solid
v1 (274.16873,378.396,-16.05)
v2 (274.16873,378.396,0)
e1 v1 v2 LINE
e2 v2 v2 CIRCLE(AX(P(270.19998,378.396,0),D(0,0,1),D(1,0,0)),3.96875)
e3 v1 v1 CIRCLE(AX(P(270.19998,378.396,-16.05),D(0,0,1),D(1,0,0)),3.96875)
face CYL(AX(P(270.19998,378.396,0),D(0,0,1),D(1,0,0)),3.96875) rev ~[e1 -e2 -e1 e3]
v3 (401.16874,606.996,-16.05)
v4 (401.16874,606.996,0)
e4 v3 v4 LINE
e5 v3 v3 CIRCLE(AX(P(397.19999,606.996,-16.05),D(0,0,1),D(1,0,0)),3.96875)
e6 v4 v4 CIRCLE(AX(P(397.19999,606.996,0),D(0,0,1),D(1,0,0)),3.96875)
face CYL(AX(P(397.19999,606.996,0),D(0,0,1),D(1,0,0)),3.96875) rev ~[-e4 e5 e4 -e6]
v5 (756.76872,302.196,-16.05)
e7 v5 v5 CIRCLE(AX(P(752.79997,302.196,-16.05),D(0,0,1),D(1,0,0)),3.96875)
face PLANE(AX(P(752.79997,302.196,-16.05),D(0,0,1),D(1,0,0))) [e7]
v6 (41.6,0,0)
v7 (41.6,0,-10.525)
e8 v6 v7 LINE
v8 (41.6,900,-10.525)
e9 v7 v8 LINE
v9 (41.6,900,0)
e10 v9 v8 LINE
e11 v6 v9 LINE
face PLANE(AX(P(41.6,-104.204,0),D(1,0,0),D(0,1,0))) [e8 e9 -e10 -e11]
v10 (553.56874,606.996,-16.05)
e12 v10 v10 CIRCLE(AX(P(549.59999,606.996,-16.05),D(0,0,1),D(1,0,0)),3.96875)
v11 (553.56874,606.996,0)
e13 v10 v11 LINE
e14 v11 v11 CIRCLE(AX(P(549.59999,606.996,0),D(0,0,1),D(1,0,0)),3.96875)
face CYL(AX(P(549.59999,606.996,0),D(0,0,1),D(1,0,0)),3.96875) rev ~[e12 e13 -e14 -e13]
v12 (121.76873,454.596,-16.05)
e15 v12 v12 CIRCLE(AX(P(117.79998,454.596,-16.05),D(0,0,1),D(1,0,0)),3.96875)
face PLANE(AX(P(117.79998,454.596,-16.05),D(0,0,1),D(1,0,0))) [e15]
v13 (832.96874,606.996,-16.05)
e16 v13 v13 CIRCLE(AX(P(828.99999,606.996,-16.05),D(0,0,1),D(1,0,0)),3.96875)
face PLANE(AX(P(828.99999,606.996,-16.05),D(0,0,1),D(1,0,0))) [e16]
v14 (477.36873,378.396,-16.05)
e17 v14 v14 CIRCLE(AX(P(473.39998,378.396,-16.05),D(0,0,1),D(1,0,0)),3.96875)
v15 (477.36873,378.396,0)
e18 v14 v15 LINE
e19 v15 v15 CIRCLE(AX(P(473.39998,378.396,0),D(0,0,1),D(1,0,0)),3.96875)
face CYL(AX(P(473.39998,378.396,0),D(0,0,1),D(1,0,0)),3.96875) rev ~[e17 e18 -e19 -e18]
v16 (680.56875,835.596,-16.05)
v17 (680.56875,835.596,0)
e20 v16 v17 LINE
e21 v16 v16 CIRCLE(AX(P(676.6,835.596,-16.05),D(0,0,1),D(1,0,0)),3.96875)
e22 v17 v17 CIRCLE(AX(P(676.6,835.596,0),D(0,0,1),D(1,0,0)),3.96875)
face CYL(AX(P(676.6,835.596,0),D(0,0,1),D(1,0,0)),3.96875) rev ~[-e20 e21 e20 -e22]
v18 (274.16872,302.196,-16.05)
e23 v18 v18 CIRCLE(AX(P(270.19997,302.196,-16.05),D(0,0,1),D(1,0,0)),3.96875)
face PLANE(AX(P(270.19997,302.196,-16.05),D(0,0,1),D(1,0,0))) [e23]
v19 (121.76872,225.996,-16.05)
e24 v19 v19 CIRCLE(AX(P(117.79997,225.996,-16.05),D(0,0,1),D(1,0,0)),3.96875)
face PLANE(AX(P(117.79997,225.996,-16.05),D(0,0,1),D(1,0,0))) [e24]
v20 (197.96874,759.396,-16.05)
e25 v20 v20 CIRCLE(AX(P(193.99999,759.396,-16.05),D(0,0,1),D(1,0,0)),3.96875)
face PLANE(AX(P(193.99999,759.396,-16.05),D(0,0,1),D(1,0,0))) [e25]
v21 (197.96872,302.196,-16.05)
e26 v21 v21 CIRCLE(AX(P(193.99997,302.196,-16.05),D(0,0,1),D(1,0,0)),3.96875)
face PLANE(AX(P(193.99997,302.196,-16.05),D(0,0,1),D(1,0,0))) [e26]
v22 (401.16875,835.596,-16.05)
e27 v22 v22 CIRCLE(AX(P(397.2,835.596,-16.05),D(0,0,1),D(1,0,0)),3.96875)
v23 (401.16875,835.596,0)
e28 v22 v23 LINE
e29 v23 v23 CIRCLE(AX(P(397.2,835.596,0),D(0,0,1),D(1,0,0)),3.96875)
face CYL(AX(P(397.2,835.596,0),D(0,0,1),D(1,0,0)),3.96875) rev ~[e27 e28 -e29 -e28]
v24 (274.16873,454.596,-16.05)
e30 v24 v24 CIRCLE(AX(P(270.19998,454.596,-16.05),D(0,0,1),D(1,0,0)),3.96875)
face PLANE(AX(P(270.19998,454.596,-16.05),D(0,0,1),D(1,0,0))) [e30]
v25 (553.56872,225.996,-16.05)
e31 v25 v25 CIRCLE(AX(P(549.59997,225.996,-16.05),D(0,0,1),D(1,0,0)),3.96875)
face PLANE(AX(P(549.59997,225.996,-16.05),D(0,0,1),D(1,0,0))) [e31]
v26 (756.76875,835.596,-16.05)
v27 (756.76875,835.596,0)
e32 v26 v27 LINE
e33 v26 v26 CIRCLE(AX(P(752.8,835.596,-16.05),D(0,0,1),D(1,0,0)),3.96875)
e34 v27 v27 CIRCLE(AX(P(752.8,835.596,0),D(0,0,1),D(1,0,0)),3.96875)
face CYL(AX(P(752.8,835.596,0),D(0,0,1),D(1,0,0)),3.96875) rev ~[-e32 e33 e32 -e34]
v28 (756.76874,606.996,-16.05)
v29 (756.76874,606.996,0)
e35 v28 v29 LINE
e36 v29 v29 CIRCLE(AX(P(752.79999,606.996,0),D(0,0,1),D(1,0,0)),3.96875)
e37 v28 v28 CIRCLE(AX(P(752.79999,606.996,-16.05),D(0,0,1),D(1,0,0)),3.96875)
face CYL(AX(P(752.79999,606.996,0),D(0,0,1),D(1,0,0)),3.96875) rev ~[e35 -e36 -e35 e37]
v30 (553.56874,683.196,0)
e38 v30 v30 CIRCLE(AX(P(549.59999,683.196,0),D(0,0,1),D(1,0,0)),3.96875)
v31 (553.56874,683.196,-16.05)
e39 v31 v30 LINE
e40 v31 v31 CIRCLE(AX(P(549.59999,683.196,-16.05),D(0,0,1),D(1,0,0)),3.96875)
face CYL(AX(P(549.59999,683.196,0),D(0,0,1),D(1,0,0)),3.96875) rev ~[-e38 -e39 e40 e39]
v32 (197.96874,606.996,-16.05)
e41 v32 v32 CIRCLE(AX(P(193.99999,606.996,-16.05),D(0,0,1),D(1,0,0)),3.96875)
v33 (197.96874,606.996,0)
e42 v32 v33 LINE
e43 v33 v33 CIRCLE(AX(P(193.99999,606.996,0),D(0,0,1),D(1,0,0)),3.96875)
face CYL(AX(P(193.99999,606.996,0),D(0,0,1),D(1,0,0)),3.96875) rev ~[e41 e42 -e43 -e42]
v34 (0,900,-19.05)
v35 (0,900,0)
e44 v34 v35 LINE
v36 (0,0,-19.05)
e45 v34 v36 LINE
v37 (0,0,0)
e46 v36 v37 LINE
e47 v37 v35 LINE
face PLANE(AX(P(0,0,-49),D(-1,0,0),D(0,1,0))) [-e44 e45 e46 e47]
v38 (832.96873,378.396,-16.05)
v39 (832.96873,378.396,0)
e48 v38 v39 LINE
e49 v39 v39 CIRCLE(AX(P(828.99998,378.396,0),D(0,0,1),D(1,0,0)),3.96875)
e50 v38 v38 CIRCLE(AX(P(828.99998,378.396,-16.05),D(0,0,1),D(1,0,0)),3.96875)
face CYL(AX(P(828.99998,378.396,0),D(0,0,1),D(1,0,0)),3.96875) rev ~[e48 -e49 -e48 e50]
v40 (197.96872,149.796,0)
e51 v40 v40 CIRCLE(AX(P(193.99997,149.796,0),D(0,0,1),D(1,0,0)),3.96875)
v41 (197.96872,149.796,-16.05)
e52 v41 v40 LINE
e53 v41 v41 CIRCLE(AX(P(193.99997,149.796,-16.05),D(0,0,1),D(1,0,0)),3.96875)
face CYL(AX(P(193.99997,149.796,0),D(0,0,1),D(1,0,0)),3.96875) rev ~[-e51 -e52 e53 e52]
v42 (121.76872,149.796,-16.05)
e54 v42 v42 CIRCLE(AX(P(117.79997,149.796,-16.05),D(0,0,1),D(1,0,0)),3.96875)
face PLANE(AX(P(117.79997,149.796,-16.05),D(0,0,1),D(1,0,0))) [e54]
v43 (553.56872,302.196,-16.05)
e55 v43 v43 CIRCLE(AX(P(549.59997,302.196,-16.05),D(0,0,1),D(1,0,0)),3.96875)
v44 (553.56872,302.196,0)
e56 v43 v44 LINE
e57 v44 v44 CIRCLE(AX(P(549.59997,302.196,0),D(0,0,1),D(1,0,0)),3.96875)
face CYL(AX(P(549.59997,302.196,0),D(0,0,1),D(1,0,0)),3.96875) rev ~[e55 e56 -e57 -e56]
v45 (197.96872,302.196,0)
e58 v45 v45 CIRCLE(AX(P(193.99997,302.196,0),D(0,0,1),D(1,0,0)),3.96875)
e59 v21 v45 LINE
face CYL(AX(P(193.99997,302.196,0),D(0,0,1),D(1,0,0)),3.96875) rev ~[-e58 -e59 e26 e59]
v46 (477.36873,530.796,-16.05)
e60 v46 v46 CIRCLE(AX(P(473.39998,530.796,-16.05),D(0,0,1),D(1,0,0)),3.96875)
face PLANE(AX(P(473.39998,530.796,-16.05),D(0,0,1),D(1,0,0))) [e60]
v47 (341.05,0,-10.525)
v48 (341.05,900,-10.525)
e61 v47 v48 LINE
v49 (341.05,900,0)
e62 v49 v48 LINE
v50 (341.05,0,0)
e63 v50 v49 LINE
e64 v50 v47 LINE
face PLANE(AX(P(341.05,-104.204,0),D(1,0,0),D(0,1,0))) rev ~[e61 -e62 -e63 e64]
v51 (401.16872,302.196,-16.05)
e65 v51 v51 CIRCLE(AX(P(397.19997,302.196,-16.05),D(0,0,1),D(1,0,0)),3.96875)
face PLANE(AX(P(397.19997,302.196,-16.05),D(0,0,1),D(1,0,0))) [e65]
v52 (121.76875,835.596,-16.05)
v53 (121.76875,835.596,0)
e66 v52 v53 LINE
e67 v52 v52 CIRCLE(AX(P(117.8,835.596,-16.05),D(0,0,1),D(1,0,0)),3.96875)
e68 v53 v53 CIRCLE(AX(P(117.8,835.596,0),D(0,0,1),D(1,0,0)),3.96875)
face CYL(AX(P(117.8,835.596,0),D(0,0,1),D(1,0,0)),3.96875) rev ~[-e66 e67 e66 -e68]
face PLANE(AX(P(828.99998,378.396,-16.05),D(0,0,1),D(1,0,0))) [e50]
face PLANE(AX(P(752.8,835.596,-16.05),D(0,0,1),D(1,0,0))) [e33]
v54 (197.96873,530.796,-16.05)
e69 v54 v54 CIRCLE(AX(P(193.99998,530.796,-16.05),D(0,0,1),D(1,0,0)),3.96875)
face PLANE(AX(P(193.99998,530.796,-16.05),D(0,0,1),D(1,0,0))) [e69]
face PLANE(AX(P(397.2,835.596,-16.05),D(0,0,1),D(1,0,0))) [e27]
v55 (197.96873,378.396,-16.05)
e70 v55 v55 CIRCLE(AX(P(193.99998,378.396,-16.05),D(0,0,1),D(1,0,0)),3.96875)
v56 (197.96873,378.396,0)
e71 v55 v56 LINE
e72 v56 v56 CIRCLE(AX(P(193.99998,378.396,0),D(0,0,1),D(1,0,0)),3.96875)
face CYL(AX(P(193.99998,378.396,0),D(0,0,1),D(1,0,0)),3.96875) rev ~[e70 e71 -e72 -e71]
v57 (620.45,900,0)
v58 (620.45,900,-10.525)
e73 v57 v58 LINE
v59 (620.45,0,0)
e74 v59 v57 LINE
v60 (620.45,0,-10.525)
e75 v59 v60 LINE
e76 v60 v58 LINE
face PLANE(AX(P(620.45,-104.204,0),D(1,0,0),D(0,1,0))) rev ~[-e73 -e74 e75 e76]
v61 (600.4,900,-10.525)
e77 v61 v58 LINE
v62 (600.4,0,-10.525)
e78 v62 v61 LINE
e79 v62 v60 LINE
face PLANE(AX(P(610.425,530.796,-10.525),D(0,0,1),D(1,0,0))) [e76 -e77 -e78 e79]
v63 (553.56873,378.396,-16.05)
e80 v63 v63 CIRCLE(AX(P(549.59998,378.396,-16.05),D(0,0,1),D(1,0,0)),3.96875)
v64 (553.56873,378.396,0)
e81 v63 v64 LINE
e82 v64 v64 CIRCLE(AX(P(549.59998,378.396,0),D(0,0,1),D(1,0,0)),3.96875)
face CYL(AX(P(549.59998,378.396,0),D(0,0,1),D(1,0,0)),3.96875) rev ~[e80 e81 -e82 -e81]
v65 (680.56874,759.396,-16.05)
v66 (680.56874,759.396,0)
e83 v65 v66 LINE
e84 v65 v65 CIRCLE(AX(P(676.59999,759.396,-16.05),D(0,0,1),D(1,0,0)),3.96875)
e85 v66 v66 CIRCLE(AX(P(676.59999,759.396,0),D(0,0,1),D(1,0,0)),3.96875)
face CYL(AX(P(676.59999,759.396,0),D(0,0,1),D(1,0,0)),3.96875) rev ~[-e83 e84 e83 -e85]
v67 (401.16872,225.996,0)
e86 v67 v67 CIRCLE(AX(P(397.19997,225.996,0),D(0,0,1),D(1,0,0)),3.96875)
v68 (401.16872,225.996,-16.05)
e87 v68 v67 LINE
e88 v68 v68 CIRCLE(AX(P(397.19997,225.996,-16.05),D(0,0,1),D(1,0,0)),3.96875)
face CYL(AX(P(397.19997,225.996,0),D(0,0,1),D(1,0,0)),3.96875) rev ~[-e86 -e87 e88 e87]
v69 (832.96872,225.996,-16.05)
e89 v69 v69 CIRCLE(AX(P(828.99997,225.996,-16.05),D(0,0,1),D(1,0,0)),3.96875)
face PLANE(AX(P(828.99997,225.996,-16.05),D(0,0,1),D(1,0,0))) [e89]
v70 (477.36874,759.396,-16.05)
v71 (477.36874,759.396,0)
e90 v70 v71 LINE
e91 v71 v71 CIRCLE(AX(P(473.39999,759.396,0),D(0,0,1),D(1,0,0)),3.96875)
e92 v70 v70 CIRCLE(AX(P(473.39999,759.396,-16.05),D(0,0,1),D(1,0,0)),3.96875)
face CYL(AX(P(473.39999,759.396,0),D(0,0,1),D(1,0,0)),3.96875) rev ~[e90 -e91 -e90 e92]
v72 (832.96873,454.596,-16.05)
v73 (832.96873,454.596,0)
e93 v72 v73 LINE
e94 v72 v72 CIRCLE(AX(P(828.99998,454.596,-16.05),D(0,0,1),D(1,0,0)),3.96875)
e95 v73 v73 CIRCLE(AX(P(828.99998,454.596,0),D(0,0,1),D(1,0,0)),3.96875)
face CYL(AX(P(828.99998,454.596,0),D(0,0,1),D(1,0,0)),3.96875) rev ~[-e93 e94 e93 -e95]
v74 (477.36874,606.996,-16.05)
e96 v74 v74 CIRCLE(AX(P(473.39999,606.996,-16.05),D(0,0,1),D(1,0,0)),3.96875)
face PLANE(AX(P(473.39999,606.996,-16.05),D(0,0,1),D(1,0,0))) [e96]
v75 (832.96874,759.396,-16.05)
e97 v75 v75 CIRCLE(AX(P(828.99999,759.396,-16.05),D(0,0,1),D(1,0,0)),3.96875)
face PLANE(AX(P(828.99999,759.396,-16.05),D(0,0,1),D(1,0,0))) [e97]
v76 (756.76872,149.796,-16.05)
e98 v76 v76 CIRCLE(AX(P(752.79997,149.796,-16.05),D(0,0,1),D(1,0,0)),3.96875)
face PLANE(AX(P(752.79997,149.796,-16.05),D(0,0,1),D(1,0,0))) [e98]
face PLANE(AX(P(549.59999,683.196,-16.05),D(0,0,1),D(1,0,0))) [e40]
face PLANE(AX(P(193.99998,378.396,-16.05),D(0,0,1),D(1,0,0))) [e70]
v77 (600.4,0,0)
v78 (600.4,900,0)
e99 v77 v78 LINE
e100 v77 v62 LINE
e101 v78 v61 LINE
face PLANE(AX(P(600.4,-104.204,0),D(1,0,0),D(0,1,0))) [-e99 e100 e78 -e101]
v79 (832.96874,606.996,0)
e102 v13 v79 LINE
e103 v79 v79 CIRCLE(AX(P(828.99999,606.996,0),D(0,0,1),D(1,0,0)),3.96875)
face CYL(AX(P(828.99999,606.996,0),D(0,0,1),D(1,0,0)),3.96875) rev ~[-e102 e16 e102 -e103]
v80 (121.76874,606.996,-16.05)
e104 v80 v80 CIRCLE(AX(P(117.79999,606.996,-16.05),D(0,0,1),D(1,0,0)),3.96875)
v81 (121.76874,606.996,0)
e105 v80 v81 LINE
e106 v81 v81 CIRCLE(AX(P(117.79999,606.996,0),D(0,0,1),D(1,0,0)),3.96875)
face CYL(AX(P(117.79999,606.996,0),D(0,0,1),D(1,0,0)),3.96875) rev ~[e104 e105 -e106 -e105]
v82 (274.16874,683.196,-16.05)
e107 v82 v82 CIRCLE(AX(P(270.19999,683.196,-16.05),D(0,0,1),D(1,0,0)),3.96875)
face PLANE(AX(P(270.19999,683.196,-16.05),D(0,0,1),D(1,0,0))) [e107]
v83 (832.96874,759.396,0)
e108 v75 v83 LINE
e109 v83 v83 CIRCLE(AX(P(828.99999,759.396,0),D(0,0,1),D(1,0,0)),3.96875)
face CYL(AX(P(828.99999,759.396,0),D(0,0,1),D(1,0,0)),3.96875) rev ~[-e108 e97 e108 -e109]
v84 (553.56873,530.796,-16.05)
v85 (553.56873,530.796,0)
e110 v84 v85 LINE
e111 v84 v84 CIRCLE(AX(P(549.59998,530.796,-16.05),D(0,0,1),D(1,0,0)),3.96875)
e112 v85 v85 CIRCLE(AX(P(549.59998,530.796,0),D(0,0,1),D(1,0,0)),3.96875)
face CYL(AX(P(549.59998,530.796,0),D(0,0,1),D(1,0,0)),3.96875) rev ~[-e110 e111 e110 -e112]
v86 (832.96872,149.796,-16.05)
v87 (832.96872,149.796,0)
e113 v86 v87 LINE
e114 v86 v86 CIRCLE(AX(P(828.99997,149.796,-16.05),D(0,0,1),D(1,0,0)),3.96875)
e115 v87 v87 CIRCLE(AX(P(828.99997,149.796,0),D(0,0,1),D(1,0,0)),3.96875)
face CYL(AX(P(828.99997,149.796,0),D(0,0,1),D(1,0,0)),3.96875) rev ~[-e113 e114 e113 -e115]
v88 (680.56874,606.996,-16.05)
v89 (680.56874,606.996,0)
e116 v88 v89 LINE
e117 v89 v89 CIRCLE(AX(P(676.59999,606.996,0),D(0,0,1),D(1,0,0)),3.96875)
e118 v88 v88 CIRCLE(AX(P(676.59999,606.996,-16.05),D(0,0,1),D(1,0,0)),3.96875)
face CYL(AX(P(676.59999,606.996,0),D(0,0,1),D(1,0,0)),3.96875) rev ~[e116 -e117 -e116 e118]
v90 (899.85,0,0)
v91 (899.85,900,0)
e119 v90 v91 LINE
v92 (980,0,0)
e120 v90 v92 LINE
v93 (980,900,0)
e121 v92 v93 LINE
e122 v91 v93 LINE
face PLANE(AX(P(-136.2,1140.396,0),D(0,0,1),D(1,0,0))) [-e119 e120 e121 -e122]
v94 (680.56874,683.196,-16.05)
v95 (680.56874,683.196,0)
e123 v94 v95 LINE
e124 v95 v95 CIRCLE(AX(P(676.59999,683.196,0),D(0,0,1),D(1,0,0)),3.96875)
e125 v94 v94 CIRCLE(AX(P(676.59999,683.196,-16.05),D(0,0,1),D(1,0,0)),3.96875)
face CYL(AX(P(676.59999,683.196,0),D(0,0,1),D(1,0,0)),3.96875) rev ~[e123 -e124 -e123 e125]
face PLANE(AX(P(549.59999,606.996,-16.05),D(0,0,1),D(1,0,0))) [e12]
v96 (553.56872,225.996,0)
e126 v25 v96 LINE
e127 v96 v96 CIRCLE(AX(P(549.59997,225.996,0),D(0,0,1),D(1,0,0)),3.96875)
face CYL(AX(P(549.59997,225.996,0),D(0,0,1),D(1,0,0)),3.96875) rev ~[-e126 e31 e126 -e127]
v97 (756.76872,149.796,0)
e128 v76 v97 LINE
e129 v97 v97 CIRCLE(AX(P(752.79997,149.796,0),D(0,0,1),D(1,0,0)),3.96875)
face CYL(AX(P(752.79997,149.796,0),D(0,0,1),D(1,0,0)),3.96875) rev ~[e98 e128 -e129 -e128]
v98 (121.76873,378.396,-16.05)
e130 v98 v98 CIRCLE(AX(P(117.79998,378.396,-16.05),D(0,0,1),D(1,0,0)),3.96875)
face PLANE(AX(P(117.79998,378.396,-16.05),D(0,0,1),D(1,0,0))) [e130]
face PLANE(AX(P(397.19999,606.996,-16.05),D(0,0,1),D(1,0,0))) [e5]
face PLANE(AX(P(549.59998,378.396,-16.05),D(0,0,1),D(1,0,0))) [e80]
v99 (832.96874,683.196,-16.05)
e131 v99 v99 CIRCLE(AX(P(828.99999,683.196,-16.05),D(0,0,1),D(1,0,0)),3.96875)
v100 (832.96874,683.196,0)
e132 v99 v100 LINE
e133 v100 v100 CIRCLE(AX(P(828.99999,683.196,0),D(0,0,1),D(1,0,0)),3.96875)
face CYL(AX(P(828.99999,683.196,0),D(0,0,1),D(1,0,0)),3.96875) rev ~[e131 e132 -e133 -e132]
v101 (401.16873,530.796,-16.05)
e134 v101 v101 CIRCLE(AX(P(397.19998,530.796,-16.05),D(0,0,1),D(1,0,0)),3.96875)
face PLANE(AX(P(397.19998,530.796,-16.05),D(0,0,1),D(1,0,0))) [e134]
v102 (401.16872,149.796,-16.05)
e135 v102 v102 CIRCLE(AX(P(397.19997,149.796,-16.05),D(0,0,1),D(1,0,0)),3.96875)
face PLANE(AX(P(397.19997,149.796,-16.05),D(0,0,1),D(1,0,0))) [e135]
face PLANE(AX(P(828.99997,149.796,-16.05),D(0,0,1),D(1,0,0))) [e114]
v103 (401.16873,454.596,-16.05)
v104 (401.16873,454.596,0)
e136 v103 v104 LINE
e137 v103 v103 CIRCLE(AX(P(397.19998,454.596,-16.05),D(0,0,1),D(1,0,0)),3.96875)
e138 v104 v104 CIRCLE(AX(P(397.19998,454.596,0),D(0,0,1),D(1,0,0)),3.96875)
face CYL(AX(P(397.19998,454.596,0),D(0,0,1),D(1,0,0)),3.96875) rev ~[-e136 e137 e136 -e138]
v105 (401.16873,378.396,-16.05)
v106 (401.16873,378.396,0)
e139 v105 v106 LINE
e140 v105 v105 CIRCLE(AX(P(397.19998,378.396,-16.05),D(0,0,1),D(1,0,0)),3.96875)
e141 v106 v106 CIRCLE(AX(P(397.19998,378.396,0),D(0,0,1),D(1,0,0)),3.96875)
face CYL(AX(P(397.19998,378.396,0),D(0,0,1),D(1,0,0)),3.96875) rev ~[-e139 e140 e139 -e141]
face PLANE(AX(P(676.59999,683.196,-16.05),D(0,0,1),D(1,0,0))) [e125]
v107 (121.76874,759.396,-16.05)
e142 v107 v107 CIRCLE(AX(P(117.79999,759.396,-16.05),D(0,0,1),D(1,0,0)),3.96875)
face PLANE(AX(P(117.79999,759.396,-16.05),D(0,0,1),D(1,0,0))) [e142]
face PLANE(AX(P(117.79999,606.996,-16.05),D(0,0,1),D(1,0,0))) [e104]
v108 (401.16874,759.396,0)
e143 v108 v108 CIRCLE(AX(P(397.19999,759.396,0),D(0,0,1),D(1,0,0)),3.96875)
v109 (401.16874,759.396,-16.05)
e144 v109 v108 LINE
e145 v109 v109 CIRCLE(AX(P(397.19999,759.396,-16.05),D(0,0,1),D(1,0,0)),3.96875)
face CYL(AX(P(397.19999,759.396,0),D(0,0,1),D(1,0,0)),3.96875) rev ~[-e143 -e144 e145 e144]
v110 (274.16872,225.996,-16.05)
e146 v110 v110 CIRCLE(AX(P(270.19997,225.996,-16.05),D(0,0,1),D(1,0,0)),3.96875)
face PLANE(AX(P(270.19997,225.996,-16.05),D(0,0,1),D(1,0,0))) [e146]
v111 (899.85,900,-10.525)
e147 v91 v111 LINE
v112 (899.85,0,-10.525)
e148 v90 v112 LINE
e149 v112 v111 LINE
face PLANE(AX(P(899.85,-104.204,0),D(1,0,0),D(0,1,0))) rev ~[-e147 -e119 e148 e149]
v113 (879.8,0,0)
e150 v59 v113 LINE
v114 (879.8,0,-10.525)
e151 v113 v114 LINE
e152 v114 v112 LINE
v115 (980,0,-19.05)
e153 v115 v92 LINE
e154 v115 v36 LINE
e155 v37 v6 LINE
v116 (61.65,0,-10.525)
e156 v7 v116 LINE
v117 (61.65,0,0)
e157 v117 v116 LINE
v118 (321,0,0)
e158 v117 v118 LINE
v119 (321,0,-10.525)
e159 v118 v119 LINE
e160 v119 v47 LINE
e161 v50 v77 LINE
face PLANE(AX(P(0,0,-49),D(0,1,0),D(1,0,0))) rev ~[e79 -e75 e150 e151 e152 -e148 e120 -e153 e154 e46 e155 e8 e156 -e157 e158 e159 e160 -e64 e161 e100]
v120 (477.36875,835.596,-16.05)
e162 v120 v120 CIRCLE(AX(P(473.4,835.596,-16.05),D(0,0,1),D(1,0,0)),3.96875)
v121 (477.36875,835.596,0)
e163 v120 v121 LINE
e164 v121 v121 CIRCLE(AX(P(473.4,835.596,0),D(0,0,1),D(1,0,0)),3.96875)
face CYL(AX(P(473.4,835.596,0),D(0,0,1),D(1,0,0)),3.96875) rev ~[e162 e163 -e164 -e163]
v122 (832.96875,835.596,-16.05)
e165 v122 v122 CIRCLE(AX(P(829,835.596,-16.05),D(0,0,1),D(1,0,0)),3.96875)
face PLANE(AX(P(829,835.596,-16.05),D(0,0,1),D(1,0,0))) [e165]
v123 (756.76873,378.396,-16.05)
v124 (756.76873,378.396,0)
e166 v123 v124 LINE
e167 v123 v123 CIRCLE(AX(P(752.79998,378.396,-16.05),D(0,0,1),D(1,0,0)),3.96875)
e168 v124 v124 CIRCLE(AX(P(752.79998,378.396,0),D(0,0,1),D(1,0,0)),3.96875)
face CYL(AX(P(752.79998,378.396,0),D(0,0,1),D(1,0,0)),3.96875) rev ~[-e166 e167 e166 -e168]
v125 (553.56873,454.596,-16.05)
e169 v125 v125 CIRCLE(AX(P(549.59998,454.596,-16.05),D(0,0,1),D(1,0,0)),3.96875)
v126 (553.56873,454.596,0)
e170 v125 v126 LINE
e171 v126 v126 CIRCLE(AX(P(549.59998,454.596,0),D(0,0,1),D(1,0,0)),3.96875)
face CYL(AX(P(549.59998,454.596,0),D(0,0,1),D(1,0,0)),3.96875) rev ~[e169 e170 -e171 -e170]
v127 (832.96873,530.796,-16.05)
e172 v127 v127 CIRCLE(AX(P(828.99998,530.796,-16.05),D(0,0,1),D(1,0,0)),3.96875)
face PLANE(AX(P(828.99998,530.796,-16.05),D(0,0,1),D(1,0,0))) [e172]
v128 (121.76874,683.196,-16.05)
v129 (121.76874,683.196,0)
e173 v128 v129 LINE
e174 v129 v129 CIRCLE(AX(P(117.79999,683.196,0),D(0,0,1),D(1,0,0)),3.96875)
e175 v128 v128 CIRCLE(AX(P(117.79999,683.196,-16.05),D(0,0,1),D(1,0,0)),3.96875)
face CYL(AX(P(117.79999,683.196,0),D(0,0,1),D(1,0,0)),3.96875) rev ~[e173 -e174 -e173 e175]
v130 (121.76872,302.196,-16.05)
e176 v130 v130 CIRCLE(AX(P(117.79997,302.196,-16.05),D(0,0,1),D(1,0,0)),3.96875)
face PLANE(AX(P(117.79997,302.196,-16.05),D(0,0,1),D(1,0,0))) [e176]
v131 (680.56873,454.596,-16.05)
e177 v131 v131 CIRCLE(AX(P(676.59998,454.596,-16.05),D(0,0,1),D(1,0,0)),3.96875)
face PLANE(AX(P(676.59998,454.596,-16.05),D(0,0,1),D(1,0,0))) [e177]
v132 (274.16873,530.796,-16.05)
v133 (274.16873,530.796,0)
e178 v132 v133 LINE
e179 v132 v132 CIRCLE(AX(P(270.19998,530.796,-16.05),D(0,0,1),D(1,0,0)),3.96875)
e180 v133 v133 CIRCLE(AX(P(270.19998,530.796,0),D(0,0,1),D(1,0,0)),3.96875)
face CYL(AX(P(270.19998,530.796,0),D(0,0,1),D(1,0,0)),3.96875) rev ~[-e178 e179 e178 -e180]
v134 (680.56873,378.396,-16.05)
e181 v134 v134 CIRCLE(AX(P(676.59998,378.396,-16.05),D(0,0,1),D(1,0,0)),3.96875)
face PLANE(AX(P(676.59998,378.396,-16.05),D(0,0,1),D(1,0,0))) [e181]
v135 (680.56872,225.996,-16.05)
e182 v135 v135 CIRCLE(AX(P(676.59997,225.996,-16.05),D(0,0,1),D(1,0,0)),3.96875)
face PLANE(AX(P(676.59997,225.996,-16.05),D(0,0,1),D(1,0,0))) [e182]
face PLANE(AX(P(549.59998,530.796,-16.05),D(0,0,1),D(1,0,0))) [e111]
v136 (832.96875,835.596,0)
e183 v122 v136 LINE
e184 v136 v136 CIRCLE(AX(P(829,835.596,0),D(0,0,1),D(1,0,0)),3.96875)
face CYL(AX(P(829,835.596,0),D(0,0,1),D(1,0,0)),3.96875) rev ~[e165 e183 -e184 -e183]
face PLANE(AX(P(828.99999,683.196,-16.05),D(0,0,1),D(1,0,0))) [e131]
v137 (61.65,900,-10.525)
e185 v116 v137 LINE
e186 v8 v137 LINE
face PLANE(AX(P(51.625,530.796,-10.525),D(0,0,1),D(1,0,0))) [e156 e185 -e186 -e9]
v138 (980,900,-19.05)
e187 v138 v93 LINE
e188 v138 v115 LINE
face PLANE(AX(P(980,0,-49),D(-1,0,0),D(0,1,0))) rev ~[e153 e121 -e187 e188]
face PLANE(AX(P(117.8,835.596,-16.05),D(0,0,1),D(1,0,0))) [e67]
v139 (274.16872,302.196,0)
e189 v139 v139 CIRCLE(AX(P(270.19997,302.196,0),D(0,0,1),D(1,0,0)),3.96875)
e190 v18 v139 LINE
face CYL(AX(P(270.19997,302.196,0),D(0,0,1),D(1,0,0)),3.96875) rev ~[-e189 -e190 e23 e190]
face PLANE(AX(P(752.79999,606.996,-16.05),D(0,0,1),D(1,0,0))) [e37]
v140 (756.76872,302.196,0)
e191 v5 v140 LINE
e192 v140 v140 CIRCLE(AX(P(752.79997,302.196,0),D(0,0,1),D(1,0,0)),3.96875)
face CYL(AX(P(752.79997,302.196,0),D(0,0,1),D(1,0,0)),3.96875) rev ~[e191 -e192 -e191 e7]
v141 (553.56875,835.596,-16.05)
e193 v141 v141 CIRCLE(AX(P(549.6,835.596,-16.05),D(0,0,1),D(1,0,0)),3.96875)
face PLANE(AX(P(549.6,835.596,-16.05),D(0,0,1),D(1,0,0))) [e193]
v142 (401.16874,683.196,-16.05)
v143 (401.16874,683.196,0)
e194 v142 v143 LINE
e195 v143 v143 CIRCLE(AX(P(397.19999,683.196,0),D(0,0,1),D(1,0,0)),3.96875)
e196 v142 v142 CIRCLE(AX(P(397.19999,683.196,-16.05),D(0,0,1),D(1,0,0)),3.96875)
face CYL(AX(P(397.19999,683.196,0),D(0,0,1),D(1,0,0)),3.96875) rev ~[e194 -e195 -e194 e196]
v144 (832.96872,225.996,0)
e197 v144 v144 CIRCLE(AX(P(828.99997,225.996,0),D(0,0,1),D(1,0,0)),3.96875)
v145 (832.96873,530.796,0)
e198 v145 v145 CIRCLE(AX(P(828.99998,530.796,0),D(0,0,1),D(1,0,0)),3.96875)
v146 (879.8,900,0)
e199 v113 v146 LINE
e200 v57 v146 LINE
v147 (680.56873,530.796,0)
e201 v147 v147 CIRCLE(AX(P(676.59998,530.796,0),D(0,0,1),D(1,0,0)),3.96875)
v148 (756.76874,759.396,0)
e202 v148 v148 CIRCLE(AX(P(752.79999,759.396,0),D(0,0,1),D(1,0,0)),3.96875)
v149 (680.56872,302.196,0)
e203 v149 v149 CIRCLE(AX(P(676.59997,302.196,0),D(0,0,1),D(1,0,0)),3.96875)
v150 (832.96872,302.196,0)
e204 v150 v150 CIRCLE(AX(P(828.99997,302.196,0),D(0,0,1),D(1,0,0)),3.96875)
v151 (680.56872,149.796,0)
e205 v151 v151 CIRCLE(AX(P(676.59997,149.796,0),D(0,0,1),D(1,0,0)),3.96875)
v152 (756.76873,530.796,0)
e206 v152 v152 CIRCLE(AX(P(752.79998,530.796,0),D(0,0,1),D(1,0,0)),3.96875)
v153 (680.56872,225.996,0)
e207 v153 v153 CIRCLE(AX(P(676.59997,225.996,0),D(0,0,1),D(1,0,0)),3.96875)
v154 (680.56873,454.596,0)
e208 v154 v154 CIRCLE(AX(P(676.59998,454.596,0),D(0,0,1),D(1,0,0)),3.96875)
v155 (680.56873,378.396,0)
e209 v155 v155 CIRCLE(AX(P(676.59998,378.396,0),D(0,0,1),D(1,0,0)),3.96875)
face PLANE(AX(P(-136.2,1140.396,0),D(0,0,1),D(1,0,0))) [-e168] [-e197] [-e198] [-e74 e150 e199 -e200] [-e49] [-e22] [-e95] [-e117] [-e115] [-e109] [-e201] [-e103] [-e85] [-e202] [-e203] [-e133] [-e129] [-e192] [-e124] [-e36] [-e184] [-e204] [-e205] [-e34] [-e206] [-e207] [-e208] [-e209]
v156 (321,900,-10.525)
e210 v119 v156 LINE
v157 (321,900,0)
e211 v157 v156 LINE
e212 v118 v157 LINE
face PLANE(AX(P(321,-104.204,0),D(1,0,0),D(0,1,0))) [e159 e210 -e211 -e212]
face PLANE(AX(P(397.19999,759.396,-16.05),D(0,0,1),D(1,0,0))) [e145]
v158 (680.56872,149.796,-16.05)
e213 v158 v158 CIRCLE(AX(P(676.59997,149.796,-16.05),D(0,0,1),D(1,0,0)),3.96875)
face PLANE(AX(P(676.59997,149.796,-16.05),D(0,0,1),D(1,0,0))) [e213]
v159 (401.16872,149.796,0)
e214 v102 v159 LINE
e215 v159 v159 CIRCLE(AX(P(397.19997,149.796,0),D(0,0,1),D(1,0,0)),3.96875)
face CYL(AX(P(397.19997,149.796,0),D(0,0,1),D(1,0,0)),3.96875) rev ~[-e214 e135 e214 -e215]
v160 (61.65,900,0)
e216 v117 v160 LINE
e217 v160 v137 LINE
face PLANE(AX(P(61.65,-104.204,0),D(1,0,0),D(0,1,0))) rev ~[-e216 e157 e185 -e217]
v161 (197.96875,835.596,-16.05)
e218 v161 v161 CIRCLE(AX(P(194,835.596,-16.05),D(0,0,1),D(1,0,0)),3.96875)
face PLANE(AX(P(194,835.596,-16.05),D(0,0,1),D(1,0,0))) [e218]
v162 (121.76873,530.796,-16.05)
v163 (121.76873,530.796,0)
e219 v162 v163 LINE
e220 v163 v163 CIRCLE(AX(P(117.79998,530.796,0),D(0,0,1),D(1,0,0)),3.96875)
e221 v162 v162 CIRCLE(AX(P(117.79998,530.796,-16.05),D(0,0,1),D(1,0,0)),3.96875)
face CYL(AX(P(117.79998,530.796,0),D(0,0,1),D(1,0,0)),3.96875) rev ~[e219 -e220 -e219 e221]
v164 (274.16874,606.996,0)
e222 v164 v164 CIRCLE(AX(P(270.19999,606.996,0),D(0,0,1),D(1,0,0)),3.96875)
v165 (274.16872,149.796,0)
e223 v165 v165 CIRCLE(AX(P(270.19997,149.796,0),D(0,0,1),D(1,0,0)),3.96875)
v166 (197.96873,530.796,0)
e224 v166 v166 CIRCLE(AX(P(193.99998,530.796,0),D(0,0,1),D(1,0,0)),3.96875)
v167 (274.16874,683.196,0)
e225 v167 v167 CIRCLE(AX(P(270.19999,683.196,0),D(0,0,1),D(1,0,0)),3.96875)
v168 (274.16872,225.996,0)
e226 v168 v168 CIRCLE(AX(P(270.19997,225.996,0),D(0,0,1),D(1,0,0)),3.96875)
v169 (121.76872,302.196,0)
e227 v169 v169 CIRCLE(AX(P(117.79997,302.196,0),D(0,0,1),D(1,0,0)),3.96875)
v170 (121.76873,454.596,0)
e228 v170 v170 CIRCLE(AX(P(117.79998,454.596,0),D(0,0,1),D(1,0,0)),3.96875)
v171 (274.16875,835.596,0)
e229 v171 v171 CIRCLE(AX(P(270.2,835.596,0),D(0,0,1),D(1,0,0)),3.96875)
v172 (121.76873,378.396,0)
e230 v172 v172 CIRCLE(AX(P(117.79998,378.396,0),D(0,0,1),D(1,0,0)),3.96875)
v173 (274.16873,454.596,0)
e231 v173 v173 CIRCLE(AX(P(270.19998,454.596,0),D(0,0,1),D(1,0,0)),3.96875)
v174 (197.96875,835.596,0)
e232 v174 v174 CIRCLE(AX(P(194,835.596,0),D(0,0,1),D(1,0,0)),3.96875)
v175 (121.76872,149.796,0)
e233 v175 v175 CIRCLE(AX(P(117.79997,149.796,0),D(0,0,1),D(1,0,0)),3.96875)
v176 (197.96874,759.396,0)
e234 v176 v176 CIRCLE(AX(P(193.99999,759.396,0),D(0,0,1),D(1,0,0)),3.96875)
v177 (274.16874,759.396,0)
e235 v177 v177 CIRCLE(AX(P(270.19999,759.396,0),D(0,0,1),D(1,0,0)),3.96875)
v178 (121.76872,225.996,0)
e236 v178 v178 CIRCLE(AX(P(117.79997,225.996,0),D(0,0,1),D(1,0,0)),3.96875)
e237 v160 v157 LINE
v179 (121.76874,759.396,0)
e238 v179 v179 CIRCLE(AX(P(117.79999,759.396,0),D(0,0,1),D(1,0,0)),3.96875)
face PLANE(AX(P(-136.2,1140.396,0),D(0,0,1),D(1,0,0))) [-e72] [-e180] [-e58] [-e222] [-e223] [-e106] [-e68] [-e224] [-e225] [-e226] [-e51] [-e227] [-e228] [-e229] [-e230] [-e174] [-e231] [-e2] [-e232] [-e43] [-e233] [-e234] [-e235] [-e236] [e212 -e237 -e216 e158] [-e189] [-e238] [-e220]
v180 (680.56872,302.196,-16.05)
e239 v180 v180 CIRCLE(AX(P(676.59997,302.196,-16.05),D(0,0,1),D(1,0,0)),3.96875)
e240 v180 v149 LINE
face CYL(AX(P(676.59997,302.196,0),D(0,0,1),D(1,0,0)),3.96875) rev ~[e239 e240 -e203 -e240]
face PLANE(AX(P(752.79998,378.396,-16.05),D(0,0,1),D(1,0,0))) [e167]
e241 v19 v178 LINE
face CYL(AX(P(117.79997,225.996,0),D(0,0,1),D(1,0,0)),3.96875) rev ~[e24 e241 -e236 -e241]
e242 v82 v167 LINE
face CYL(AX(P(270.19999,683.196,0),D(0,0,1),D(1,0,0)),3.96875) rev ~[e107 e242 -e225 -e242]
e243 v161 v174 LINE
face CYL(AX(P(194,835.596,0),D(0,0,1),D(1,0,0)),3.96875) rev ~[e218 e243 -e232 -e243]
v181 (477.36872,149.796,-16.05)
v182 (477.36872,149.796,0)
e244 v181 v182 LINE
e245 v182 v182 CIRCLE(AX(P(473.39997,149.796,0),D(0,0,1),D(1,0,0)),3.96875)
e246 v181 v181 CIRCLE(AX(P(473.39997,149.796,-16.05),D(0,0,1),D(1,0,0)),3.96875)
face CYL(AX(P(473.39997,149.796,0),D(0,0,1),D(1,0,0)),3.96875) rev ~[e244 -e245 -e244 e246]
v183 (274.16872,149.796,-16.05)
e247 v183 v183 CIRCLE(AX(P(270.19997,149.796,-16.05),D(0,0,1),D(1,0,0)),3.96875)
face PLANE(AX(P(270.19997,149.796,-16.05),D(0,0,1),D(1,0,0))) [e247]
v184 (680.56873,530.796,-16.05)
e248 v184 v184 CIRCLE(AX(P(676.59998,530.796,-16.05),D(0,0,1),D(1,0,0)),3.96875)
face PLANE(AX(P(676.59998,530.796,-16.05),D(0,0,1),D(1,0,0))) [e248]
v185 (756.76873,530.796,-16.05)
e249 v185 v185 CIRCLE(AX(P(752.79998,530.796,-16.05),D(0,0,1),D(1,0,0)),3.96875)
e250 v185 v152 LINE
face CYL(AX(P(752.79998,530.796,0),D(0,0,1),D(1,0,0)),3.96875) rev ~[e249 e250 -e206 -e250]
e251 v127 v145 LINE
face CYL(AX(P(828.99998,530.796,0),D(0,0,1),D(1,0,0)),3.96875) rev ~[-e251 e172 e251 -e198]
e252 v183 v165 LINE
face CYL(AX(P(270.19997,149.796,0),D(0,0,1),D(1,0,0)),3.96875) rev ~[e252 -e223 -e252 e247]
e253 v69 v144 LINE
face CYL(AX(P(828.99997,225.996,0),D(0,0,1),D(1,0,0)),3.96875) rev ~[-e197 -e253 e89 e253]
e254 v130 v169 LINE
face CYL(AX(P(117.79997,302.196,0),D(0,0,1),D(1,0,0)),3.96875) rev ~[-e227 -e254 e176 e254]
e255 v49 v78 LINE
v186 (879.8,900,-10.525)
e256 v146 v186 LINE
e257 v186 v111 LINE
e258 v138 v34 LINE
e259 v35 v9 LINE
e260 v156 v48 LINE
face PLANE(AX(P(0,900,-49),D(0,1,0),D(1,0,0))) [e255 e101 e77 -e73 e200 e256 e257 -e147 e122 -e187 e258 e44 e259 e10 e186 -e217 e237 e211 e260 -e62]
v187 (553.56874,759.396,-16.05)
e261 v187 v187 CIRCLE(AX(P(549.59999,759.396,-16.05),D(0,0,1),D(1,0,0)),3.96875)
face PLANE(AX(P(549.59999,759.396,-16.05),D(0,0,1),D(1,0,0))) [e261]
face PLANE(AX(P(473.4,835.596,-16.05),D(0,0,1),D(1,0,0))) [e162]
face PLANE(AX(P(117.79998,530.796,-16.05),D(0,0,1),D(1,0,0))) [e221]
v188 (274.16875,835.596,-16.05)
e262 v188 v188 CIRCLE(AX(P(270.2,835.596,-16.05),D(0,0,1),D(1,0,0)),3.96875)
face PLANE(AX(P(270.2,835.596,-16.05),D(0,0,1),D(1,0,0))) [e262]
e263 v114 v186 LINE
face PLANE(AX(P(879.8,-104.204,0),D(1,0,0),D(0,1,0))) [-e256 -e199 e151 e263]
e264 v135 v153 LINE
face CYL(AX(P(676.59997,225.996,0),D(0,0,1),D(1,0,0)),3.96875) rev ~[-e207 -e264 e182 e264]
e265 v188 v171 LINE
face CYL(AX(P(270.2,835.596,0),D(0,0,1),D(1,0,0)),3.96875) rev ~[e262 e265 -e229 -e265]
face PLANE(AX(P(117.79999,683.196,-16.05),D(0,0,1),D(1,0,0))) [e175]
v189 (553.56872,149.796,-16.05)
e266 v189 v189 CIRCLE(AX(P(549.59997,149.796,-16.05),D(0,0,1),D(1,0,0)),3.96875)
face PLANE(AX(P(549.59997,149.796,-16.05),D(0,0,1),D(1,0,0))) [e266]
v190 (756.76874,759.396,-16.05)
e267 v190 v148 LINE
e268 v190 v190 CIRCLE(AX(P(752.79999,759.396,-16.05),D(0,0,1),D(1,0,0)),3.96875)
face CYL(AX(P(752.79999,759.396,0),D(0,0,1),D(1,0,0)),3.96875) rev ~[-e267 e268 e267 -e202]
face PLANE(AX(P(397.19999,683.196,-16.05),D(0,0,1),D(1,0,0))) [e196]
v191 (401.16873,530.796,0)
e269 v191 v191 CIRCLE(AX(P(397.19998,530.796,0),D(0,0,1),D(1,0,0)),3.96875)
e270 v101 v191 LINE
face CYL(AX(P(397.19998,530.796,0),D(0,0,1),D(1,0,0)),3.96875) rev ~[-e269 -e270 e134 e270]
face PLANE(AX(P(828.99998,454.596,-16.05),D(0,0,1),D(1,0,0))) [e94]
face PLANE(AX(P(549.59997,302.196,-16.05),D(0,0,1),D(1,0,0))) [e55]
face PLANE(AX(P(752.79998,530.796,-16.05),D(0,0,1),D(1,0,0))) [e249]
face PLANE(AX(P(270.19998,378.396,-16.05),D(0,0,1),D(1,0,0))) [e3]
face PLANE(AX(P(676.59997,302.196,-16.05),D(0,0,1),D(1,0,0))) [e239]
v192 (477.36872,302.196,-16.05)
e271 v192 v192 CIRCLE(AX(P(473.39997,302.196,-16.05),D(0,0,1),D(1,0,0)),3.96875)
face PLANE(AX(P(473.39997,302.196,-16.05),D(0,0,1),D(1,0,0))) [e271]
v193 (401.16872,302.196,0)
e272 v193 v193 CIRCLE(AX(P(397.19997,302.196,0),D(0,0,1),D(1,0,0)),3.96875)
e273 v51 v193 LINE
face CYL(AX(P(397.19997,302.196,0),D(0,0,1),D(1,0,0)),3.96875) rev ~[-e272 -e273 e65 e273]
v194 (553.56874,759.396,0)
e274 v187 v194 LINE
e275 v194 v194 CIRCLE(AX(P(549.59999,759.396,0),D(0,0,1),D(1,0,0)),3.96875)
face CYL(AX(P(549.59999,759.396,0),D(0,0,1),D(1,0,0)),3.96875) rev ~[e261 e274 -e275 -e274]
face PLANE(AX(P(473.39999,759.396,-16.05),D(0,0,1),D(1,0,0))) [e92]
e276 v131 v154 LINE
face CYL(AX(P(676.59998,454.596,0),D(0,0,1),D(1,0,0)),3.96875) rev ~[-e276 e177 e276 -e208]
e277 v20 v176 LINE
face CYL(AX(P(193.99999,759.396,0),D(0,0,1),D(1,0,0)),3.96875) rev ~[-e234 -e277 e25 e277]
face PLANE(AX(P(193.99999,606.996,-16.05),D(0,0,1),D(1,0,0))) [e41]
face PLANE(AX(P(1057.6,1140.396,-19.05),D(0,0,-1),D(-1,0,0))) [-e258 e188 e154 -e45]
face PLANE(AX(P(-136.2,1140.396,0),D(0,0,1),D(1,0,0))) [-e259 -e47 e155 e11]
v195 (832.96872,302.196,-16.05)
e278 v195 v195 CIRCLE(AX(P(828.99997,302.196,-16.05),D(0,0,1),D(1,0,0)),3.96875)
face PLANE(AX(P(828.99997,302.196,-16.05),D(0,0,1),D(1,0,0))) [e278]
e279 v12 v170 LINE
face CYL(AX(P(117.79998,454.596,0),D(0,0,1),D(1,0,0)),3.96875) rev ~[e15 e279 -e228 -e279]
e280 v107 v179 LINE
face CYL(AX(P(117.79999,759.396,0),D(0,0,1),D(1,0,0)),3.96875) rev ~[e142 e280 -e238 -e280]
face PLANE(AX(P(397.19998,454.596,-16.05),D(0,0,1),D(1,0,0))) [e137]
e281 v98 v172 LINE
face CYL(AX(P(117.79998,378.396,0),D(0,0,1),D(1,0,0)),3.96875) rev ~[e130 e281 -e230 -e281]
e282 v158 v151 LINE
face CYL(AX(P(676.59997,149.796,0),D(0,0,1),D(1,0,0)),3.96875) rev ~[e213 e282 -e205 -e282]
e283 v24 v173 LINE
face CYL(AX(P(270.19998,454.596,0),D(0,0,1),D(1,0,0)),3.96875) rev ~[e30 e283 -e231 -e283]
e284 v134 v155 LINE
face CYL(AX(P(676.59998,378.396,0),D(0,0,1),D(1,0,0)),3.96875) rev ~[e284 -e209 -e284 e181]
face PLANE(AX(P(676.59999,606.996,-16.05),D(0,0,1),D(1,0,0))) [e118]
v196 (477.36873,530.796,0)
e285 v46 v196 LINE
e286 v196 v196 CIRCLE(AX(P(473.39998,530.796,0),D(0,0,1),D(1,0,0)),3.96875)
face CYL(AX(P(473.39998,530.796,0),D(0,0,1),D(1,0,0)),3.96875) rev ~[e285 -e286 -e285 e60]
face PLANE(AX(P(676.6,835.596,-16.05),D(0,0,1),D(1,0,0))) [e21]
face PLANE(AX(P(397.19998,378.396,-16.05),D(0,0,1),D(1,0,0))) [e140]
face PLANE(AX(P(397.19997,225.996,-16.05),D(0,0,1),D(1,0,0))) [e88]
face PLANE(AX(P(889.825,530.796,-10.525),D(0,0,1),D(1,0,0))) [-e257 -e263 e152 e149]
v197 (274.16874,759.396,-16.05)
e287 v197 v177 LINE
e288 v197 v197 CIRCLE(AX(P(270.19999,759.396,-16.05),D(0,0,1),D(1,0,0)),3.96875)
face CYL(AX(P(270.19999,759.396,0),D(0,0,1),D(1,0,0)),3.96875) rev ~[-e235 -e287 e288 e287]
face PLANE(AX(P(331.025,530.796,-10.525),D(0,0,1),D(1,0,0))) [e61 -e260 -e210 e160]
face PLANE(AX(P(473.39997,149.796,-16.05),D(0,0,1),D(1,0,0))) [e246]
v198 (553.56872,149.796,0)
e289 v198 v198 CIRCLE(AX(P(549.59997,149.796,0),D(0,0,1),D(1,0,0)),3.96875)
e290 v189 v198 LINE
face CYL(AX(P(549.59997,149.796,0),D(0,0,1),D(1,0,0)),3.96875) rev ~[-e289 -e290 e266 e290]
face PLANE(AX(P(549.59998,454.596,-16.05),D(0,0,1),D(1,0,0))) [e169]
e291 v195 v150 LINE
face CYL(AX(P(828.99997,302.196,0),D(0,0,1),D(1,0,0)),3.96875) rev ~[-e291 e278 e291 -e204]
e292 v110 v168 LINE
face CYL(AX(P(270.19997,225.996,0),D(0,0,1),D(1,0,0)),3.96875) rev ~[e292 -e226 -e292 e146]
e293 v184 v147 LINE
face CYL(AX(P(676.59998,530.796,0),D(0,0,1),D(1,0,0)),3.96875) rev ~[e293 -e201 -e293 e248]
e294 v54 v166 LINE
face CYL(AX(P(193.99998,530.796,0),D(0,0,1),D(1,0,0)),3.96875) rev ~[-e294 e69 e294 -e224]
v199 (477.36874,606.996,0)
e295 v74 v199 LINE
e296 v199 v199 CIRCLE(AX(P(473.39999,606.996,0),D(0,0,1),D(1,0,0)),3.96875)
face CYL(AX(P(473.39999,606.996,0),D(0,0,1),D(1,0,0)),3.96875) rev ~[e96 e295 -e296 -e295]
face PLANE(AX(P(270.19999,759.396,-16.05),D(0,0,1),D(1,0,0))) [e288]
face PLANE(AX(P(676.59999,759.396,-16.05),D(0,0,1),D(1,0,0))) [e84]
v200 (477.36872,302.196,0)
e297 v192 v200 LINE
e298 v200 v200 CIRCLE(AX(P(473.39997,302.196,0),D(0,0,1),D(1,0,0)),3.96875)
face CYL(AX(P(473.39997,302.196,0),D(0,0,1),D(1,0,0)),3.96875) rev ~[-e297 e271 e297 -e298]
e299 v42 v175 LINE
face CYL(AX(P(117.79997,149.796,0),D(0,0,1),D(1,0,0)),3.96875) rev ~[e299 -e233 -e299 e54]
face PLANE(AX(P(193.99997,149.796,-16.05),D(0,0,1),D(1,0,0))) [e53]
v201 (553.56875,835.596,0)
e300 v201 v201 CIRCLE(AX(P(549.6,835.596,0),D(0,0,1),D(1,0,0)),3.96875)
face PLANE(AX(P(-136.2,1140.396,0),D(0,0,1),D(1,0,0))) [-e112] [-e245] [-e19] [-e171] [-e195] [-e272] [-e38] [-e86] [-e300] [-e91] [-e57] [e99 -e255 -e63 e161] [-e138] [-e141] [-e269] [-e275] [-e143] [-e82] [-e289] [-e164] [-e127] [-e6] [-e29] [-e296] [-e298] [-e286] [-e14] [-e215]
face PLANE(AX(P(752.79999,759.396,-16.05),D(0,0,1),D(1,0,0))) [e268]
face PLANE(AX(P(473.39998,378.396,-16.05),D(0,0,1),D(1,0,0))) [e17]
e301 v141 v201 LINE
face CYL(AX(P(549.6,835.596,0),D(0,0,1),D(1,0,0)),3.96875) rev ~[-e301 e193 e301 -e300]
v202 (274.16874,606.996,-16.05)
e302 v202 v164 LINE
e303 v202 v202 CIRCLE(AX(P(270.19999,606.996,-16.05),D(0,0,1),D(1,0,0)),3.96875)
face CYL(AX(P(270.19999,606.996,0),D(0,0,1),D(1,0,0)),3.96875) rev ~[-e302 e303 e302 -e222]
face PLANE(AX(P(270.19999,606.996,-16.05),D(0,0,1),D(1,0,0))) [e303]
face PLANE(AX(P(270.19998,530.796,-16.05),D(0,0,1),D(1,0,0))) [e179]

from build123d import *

# Parameters (mm, degrees)
SKETCH002_W           = 20.05
SKETCH002_H           = 1270
EXTRUDE002_DEPTH      = 12.7
EXTRUDE002_DEPTH_BACK = 10.525
SKETCH001_R           = 3.96875
EXTRUDE001_DEPTH      = 19.05
EXTRUDE001_DEPTH_BACK = 16.05
EXTRUDE_DEPTH         = 1219.2
BOX_W                 = 980
BOX_H                 = 900
BOX_DEPTH             = 50


with BuildPart() as extrude002:
    # Sketch002 (on Face1 of Cut) → Extrude002 (new body, two sides)
    with BuildSketch(Plane.XY) as extrude002_sk:
        with Locations((187.825, -609.6)):
            Rectangle(SKETCH002_W, SKETCH002_H)
        with Locations((467.225, -609.6)):
            Rectangle(SKETCH002_W, SKETCH002_H)
        with Locations((746.625, -609.6)):
            Rectangle(SKETCH002_W, SKETCH002_H)
        with Locations((1026.025, -609.6)):
            Rectangle(SKETCH002_W, SKETCH002_H)
    extrude(amount=EXTRUDE002_DEPTH)
    extrude(extrude002_sk.sketch, amount=-EXTRUDE002_DEPTH_BACK)


with BuildPart() as extrude001:
    # Sketch001 (on Face1 of Extrude) → Extrude001 (new body, two sides)
    with BuildSketch(Plane.XY) as extrude001_sk:
        with Locations((254, -152.4)):
            Circle(SKETCH001_R)
        with Locations((330.2, -152.4)):
            Circle(SKETCH001_R)
        with Locations((406.4, -152.4)):
            Circle(SKETCH001_R)
        with Locations((254, -228.6)):
            Circle(SKETCH001_R)
        with Locations((406.4, -228.6)):
            Circle(SKETCH001_R)
        with Locations((254, -304.8)):
            Circle(SKETCH001_R)
        with Locations((330.2, -304.8)):
            Circle(SKETCH001_R)
        with Locations((406.4, -304.8)):
            Circle(SKETCH001_R)
        with Locations((253.99999, -381)):
            Circle(SKETCH001_R)
        with Locations((330.19999, -381)):
            Circle(SKETCH001_R)
        with Locations((406.39999, -381)):
            Circle(SKETCH001_R)
        with Locations((253.99999, -457.2)):
            Circle(SKETCH001_R)
        with Locations((406.39999, -457.2)):
            Circle(SKETCH001_R)
        with Locations((253.99999, -533.4)):
            Circle(SKETCH001_R)
        with Locations((330.19999, -533.4)):
            Circle(SKETCH001_R)
        with Locations((406.39999, -533.4)):
            Circle(SKETCH001_R)
        with Locations((253.99998, -609.6)):
            Circle(SKETCH001_R)
        with Locations((330.19998, -609.6)):
            Circle(SKETCH001_R)
        with Locations((406.39998, -609.6)):
            Circle(SKETCH001_R)
        with Locations((253.99998, -685.8)):
            Circle(SKETCH001_R)
        with Locations((406.39998, -685.8)):
            Circle(SKETCH001_R)
        with Locations((253.99998, -762)):
            Circle(SKETCH001_R)
        with Locations((330.19998, -762)):
            Circle(SKETCH001_R)
        with Locations((406.39998, -762)):
            Circle(SKETCH001_R)
        with Locations((253.99997, -838.2)):
            Circle(SKETCH001_R)
        with Locations((330.19997, -838.2)):
            Circle(SKETCH001_R)
        with Locations((406.39997, -838.2)):
            Circle(SKETCH001_R)
        with Locations((253.99997, -914.4)):
            Circle(SKETCH001_R)
        with Locations((406.39997, -914.4)):
            Circle(SKETCH001_R)
        with Locations((253.99997, -990.6)):
            Circle(SKETCH001_R)
        with Locations((330.19997, -990.6)):
            Circle(SKETCH001_R)
        with Locations((406.39997, -990.6)):
            Circle(SKETCH001_R)
        with Locations((533.4, -152.4)):
            Circle(SKETCH001_R)
        with Locations((609.6, -152.4)):
            Circle(SKETCH001_R)
        with Locations((685.8, -152.4)):
            Circle(SKETCH001_R)
        with Locations((533.4, -228.6)):
            Circle(SKETCH001_R)
        with Locations((685.8, -228.6)):
            Circle(SKETCH001_R)
        with Locations((533.4, -304.8)):
            Circle(SKETCH001_R)
        with Locations((609.6, -304.8)):
            Circle(SKETCH001_R)
        with Locations((685.8, -304.8)):
            Circle(SKETCH001_R)
        with Locations((533.39999, -381)):
            Circle(SKETCH001_R)
        with Locations((609.59999, -381)):
            Circle(SKETCH001_R)
        with Locations((685.79999, -381)):
            Circle(SKETCH001_R)
        with Locations((533.39999, -457.2)):
            Circle(SKETCH001_R)
        with Locations((685.79999, -457.2)):
            Circle(SKETCH001_R)
        with Locations((533.39999, -533.4)):
            Circle(SKETCH001_R)
        with Locations((609.59999, -533.4)):
            Circle(SKETCH001_R)
        with Locations((685.79999, -533.4)):
            Circle(SKETCH001_R)
        with Locations((533.39998, -609.6)):
            Circle(SKETCH001_R)
        with Locations((609.59998, -609.6)):
            Circle(SKETCH001_R)
        with Locations((685.79998, -609.6)):
            Circle(SKETCH001_R)
        with Locations((533.39998, -685.8)):
            Circle(SKETCH001_R)
        with Locations((685.79998, -685.8)):
            Circle(SKETCH001_R)
        with Locations((533.39998, -762)):
            Circle(SKETCH001_R)
        with Locations((609.59998, -762)):
            Circle(SKETCH001_R)
        with Locations((685.79998, -762)):
            Circle(SKETCH001_R)
        with Locations((533.39997, -838.2)):
            Circle(SKETCH001_R)
        with Locations((609.59997, -838.2)):
            Circle(SKETCH001_R)
        with Locations((685.79997, -838.2)):
            Circle(SKETCH001_R)
        with Locations((533.39997, -914.4)):
            Circle(SKETCH001_R)
        with Locations((685.79997, -914.4)):
            Circle(SKETCH001_R)
        with Locations((533.39997, -990.6)):
            Circle(SKETCH001_R)
        with Locations((609.59997, -990.6)):
            Circle(SKETCH001_R)
        with Locations((685.79997, -990.6)):
            Circle(SKETCH001_R)
        with Locations((812.8, -152.4)):
            Circle(SKETCH001_R)
        with Locations((889, -152.4)):
            Circle(SKETCH001_R)
        with Locations((965.2, -152.4)):
            Circle(SKETCH001_R)
        with Locations((812.8, -228.6)):
            Circle(SKETCH001_R)
        with Locations((965.2, -228.6)):
            Circle(SKETCH001_R)
        with Locations((812.8, -304.8)):
            Circle(SKETCH001_R)
        with Locations((889, -304.8)):
            Circle(SKETCH001_R)
        with Locations((965.2, -304.8)):
            Circle(SKETCH001_R)
        with Locations((812.79999, -381)):
            Circle(SKETCH001_R)
        with Locations((888.99999, -381)):
            Circle(SKETCH001_R)
        with Locations((965.19999, -381)):
            Circle(SKETCH001_R)
        with Locations((812.79999, -457.2)):
            Circle(SKETCH001_R)
        with Locations((965.19999, -457.2)):
            Circle(SKETCH001_R)
        with Locations((812.79999, -533.4)):
            Circle(SKETCH001_R)
        with Locations((888.99999, -533.4)):
            Circle(SKETCH001_R)
        with Locations((965.19999, -533.4)):
            Circle(SKETCH001_R)
        with Locations((812.79998, -609.6)):
            Circle(SKETCH001_R)
        with Locations((888.99998, -609.6)):
            Circle(SKETCH001_R)
        with Locations((965.19998, -609.6)):
            Circle(SKETCH001_R)
        with Locations((812.79998, -685.8)):
            Circle(SKETCH001_R)
        with Locations((965.19998, -685.8)):
            Circle(SKETCH001_R)
        with Locations((812.79998, -762)):
            Circle(SKETCH001_R)
        with Locations((888.99998, -762)):
            Circle(SKETCH001_R)
        with Locations((965.19998, -762)):
            Circle(SKETCH001_R)
        with Locations((812.79997, -838.2)):
            Circle(SKETCH001_R)
        with Locations((888.99997, -838.2)):
            Circle(SKETCH001_R)
        with Locations((965.19997, -838.2)):
            Circle(SKETCH001_R)
        with Locations((812.79997, -914.4)):
            Circle(SKETCH001_R)
        with Locations((965.19997, -914.4)):
            Circle(SKETCH001_R)
        with Locations((812.79997, -990.6)):
            Circle(SKETCH001_R)
        with Locations((888.99997, -990.6)):
            Circle(SKETCH001_R)
        with Locations((965.19997, -990.6)):
            Circle(SKETCH001_R)
    extrude(amount=EXTRUDE001_DEPTH)
    extrude(extrude001_sk.sketch, amount=-EXTRUDE001_DEPTH_BACK)


with BuildPart() as cut001:
    # Sketch → Extrude (new body)
    with BuildSketch(Plane.XZ):
        Polygon((0, 0), (1219.2, 0), (1219.2, -12.7), (1193.8, -12.7), (1193.8, -19.05), (25.4, -19.05), (25.4, -12.7), (0, -12.7), align=None)
    extrude(amount=EXTRUDE_DEPTH)

    # Cut: cut Extrude001
    add(extrude001.part, mode=Mode.SUBTRACT)

    # Cut001: cut Extrude002
    add(extrude002.part, mode=Mode.SUBTRACT)


with BuildPart() as cut001_1:
    # Cut001 placement: moved
    add(cut001.part.moved(Location((-136.2, 1140.396, 0))))


with BuildPart() as common:
    # Box → Box (new body)
    with BuildSketch(Plane.XY.offset(-49)):
        with Locations((490, 450)):
            Rectangle(BOX_W, BOX_H)
    extrude(amount=BOX_DEPTH)

    # Common: intersect Cut001
    add(cut001_1.part, mode=Mode.INTERSECT)


solid = common.part
